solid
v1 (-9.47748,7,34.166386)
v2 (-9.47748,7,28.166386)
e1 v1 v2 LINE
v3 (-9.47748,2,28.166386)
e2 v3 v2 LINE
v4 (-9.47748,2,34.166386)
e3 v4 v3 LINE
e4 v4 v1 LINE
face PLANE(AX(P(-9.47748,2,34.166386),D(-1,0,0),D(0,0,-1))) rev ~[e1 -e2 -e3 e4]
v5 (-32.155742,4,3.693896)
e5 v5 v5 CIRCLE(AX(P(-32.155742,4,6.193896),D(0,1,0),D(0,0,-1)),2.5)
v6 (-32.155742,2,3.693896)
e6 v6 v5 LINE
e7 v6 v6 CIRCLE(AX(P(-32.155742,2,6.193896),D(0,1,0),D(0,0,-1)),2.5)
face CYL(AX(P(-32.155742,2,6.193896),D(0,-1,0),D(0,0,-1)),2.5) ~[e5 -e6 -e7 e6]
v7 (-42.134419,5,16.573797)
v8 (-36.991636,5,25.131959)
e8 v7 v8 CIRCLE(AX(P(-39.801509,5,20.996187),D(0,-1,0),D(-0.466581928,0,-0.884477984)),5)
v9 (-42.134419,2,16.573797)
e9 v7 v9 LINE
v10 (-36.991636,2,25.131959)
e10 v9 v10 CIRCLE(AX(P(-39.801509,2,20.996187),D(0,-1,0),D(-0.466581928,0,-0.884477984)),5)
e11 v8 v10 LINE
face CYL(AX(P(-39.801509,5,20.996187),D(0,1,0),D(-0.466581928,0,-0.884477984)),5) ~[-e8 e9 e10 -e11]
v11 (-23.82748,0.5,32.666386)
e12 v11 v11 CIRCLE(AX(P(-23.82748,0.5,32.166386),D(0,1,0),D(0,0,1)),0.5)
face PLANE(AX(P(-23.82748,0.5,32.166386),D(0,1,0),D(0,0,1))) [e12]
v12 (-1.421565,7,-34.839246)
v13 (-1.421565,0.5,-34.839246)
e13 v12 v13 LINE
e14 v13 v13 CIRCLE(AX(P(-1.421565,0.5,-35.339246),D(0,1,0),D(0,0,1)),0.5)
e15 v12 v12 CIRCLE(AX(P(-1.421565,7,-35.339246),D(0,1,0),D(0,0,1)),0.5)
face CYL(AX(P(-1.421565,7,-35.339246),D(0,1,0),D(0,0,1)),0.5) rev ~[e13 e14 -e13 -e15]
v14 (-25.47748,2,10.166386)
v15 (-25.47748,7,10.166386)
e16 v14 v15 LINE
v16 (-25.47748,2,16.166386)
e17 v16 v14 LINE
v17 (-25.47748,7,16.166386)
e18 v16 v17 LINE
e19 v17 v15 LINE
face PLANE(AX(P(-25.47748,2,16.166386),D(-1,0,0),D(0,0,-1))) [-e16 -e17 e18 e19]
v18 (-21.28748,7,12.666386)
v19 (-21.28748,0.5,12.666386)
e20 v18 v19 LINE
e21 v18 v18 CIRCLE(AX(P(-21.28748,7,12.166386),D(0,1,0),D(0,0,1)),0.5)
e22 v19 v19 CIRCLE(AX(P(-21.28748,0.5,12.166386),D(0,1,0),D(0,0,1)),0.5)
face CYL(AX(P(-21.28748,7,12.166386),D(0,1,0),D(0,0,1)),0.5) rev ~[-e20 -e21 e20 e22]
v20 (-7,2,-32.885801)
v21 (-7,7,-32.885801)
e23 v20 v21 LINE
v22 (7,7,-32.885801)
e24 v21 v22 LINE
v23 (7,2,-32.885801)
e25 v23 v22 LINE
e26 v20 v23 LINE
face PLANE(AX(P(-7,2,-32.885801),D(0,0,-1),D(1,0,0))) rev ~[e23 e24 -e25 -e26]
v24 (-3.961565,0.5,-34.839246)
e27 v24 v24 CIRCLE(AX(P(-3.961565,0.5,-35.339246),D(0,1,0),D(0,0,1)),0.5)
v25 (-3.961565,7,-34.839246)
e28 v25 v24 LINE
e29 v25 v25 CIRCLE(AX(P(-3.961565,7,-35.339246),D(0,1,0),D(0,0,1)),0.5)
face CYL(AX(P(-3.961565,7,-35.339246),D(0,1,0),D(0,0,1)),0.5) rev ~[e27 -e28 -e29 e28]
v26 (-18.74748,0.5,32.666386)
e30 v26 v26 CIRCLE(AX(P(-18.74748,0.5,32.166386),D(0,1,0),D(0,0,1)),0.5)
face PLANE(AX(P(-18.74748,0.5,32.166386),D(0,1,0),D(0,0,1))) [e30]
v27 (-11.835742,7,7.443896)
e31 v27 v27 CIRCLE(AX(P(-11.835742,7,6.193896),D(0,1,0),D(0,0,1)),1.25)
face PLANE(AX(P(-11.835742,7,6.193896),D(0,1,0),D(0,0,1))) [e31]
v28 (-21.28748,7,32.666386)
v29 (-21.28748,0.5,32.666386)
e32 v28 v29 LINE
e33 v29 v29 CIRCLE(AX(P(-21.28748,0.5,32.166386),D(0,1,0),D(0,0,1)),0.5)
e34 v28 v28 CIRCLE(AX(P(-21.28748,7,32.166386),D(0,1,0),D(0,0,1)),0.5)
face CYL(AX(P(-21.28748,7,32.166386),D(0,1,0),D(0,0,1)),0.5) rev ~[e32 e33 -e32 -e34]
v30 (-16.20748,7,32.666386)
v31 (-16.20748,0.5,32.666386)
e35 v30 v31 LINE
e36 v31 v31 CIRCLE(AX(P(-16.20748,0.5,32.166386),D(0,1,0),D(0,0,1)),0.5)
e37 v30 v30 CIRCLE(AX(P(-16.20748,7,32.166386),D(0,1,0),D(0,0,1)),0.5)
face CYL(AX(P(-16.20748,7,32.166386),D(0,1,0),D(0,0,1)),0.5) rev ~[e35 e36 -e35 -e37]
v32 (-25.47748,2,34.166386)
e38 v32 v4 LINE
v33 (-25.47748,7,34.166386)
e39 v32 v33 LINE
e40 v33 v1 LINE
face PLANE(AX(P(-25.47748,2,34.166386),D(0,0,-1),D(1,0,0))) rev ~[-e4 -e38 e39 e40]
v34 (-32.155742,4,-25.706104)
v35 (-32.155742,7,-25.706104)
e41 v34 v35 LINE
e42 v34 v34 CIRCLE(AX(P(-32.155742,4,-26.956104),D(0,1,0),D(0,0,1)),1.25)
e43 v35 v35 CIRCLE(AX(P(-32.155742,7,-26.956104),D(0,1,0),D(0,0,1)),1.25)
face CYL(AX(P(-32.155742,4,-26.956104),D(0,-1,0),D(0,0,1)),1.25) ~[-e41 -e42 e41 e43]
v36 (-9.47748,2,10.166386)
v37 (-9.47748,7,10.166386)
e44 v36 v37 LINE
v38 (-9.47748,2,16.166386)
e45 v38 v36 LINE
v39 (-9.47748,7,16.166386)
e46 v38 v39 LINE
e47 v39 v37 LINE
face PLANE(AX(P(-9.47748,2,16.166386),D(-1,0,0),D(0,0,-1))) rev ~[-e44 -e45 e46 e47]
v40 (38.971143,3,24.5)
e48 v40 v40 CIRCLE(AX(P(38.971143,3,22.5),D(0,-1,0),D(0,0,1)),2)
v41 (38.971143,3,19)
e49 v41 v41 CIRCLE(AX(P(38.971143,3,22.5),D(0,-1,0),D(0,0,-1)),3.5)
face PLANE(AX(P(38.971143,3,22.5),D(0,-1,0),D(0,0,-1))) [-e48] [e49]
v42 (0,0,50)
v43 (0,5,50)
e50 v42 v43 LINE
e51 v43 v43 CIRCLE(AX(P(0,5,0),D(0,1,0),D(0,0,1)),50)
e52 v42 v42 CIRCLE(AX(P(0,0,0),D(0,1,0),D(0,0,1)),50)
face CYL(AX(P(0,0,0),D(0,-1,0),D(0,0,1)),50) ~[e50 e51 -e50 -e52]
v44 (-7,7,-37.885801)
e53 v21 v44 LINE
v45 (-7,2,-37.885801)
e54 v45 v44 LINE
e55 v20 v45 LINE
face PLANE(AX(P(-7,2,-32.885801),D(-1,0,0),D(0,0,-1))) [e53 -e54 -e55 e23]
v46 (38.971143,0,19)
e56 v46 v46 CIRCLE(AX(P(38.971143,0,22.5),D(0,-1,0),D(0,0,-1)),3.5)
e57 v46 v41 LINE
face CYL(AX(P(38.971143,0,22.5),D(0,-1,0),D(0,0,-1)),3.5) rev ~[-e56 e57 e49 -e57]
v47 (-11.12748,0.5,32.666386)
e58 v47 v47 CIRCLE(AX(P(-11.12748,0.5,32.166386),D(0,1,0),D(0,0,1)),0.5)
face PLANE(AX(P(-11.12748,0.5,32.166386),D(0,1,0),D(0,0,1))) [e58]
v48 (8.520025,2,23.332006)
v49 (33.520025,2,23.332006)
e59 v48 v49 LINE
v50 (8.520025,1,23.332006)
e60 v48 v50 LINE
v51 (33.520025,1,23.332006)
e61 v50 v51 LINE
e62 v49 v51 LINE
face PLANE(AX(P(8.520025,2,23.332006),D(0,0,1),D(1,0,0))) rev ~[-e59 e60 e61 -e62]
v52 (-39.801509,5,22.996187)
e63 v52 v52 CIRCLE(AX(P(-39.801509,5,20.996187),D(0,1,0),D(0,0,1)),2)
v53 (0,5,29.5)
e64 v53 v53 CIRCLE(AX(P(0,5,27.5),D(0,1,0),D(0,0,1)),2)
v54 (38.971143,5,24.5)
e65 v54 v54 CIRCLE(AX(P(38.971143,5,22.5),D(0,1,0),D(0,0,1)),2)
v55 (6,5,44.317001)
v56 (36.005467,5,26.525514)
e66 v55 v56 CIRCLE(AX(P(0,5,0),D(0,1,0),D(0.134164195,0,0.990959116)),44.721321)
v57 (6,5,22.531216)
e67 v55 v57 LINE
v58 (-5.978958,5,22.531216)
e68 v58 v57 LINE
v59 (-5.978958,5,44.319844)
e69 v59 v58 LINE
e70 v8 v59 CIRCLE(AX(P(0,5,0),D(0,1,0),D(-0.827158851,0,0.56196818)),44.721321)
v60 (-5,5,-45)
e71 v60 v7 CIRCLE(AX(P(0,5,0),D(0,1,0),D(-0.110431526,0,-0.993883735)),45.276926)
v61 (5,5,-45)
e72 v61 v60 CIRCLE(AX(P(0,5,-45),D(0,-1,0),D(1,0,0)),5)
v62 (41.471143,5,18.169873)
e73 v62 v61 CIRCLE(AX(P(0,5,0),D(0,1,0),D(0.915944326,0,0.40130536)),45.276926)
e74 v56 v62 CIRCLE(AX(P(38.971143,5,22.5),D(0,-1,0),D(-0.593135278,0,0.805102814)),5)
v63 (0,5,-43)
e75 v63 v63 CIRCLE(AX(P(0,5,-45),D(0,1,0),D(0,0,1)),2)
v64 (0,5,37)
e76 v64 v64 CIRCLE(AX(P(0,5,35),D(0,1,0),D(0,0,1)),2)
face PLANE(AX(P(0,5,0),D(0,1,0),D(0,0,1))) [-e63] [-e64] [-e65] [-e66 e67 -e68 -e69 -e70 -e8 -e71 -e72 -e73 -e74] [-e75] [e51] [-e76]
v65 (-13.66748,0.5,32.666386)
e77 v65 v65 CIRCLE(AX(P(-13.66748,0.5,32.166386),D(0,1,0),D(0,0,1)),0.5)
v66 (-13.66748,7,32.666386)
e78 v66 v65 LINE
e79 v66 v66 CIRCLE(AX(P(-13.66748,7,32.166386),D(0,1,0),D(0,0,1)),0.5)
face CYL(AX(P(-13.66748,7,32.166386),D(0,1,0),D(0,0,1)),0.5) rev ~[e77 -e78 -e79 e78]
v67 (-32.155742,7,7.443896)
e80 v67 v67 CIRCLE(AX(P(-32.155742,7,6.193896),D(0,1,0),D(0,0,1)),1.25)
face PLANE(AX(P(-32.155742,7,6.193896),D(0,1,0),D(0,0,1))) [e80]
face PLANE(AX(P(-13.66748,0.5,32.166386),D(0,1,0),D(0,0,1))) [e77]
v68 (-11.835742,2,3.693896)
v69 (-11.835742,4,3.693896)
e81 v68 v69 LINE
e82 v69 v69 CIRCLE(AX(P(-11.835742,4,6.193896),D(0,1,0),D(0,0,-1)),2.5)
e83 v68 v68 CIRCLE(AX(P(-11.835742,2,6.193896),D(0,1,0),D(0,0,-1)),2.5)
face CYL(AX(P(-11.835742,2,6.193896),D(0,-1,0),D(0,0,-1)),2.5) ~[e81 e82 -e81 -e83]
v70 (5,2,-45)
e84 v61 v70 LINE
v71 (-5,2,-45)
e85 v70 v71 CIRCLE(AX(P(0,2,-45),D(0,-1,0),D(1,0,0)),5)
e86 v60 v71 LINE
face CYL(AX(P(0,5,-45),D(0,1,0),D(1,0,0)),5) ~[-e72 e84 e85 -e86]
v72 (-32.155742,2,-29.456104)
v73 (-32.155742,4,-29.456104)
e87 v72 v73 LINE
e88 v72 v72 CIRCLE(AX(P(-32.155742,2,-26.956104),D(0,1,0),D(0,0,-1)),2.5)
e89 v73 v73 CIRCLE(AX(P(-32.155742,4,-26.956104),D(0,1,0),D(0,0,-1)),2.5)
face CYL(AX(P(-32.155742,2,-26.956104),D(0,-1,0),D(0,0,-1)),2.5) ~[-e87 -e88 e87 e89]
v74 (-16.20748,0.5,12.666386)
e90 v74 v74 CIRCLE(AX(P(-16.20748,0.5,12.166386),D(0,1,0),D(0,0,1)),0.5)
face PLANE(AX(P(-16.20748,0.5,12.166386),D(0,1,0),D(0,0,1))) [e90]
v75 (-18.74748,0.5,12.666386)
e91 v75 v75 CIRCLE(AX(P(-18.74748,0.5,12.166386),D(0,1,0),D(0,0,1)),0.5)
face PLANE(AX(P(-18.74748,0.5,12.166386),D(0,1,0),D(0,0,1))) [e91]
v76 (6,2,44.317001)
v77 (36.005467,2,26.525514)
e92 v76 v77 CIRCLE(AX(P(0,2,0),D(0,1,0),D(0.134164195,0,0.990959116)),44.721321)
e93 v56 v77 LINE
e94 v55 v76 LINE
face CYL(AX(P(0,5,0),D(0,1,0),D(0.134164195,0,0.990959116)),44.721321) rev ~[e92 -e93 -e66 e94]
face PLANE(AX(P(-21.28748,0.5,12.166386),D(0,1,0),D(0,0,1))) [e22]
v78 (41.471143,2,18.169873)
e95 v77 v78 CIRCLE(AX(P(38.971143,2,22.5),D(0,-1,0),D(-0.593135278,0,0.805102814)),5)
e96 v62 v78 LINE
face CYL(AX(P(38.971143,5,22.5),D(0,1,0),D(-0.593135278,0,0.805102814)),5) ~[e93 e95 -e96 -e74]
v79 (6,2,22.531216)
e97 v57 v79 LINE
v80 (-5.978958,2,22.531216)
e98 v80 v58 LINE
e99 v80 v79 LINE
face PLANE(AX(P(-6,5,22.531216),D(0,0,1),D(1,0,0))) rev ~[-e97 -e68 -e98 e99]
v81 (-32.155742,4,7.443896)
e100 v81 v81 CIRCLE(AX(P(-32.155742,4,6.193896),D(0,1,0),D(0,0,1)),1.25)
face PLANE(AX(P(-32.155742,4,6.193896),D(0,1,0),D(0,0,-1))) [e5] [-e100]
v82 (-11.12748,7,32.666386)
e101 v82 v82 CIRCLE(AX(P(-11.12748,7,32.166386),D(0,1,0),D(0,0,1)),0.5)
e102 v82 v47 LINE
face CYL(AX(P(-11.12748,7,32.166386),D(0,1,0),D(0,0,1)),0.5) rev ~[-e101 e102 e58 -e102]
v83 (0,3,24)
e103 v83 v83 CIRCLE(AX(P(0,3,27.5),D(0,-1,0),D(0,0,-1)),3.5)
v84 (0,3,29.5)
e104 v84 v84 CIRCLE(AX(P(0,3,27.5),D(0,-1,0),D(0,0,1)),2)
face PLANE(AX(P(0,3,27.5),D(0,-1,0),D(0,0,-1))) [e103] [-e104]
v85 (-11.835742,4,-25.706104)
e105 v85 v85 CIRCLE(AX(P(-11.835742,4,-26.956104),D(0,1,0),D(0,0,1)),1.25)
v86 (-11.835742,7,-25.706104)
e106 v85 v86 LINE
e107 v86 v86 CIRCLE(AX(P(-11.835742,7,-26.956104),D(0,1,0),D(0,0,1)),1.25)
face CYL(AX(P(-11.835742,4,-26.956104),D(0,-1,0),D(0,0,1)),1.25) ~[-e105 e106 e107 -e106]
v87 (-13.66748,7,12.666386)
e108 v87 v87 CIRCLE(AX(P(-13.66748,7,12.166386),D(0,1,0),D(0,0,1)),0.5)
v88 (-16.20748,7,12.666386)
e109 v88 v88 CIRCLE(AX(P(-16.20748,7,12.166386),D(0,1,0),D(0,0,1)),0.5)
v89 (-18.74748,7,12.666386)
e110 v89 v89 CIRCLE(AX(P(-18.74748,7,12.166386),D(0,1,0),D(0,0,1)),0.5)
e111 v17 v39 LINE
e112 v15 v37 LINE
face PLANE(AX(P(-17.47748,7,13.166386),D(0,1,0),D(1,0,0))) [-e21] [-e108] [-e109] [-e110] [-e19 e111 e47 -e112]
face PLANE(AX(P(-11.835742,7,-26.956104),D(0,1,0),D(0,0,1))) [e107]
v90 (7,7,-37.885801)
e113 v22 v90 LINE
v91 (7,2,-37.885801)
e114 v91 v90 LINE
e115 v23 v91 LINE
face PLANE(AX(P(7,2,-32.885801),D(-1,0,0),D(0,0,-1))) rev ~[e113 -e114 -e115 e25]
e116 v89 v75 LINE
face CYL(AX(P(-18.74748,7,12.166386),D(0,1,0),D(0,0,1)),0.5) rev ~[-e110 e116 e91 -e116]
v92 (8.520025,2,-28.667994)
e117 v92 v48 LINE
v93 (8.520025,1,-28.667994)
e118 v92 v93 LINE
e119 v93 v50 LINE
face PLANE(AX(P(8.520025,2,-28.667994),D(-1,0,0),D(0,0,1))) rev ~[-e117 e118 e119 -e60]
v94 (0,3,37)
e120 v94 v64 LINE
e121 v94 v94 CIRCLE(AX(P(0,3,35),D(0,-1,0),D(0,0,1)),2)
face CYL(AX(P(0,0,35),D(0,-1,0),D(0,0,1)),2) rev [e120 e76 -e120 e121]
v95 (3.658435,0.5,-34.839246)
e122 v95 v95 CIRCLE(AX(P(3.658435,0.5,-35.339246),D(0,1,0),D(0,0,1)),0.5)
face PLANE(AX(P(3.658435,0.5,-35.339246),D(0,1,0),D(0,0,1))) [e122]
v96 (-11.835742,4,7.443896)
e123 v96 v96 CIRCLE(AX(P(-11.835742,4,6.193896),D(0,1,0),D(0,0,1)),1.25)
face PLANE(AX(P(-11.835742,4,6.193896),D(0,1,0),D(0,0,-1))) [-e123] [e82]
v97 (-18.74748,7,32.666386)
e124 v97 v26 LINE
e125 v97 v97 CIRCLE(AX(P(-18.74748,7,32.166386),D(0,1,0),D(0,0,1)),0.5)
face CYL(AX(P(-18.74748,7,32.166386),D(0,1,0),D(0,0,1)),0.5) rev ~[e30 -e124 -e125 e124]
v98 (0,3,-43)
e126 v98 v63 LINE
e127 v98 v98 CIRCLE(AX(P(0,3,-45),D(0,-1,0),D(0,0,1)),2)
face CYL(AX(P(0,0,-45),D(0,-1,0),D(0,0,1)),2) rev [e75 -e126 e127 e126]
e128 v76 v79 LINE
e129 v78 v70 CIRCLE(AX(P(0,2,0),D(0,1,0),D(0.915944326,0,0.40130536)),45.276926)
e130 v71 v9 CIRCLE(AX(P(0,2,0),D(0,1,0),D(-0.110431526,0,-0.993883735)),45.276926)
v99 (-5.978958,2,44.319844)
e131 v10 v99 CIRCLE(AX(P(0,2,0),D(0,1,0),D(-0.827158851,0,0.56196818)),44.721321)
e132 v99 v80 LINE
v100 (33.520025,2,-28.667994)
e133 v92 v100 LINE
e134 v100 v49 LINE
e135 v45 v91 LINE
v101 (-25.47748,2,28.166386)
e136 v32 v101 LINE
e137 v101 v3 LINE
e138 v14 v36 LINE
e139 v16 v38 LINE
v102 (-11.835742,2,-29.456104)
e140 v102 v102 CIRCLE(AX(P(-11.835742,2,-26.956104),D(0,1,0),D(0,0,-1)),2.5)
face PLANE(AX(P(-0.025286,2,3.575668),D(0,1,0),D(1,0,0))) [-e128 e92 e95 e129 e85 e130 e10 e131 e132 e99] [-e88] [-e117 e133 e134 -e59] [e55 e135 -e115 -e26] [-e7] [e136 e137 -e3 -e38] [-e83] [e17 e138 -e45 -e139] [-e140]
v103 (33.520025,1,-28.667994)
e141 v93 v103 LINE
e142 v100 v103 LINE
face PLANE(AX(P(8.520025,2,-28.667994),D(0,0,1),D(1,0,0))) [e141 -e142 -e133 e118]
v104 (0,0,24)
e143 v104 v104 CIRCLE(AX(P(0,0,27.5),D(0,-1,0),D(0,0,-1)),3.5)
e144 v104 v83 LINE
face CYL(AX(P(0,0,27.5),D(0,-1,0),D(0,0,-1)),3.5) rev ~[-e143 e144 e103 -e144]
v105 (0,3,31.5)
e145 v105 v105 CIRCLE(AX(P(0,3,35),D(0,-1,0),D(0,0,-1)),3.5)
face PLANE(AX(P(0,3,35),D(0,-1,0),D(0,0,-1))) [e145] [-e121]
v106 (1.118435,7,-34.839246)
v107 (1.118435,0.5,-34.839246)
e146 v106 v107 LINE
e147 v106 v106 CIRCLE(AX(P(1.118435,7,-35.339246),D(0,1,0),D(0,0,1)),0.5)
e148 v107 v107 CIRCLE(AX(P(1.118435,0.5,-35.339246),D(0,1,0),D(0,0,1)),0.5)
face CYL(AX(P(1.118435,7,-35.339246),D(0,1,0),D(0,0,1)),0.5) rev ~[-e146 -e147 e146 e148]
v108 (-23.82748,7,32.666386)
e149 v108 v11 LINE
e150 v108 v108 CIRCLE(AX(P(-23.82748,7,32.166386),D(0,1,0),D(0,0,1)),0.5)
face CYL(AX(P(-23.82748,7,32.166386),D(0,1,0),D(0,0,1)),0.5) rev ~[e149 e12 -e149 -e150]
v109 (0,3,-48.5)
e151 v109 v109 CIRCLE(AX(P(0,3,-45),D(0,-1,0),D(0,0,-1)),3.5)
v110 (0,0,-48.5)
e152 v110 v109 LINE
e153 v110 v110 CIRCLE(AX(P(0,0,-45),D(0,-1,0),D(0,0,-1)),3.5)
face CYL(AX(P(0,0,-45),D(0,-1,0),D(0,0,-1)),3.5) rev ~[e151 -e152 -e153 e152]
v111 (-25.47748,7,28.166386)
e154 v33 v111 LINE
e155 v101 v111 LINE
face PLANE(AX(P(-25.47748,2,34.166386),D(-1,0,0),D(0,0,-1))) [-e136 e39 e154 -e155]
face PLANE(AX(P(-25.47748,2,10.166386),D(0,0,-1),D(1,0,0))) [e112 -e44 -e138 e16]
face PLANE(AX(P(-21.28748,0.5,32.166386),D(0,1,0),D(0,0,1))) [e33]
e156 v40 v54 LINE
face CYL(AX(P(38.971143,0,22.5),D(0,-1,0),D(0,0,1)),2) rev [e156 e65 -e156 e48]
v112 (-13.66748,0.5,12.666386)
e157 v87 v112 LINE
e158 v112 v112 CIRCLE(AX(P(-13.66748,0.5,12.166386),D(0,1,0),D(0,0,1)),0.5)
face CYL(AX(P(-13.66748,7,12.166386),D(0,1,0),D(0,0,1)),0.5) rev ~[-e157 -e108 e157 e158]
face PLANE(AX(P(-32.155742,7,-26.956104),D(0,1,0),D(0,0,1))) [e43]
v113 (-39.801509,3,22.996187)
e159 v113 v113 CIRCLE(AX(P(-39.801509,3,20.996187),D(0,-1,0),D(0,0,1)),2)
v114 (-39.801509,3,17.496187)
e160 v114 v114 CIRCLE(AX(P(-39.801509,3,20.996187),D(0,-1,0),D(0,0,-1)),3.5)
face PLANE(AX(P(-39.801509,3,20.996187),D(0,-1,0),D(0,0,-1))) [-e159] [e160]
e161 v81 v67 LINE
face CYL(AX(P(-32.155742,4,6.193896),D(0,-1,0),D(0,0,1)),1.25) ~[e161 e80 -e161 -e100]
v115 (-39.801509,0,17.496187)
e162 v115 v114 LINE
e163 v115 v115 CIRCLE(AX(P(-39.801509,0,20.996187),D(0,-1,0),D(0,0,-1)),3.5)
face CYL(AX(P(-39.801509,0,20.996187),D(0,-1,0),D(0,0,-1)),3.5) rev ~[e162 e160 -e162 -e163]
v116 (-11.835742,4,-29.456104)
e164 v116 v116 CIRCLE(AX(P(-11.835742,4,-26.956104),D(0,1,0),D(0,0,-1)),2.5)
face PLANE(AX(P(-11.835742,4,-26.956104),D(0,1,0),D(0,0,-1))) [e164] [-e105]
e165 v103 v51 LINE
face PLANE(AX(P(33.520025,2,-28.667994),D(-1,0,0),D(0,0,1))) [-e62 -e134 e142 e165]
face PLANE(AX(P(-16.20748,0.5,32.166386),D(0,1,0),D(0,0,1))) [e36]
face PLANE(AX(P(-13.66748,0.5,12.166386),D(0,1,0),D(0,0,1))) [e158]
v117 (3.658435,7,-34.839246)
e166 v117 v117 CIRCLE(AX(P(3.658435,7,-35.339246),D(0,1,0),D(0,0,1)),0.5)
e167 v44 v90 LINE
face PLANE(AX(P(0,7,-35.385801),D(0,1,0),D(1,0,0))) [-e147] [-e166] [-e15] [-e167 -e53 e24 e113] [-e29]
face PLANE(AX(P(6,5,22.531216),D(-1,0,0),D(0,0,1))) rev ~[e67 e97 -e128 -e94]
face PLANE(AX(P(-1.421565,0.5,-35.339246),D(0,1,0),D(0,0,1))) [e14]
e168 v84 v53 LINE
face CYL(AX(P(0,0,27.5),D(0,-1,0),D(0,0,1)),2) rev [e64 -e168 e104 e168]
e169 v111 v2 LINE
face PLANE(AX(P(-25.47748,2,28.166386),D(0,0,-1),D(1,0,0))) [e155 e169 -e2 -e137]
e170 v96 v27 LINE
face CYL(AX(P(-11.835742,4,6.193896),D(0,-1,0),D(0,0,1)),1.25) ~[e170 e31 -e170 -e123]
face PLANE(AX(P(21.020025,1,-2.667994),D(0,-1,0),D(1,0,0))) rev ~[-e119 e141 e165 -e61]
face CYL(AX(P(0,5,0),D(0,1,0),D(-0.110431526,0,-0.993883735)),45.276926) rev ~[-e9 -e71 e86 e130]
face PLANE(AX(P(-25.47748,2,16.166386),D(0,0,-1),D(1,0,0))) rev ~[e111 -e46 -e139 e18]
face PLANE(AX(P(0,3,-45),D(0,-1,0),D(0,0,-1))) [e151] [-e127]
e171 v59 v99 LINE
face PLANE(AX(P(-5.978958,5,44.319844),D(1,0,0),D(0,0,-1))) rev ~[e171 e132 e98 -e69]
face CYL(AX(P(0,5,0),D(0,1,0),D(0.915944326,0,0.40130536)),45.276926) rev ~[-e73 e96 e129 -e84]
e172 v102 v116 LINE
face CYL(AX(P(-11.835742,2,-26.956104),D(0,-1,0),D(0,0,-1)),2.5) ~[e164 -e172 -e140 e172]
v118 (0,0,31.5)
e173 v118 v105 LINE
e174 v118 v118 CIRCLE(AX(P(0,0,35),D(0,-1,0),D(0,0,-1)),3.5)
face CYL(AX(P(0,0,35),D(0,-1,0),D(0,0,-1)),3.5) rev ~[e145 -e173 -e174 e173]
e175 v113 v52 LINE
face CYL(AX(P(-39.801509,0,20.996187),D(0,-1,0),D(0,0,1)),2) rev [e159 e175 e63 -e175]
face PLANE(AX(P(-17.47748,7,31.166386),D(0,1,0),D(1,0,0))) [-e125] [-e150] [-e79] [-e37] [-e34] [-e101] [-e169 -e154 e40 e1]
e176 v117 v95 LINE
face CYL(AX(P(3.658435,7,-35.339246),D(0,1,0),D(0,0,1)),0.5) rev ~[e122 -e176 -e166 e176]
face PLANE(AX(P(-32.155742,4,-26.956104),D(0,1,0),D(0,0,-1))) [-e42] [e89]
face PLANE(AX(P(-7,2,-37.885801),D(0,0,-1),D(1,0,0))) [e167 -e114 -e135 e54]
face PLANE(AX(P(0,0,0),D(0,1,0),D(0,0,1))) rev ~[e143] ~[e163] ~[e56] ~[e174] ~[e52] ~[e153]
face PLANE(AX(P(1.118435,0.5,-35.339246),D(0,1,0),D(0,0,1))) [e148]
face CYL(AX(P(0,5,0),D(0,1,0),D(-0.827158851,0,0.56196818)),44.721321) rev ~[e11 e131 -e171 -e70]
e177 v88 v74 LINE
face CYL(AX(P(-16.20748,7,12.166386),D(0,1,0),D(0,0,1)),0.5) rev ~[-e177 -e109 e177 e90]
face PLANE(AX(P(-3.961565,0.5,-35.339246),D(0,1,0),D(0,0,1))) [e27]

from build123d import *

# Parameters (mm, degrees)
SKIZZE2_R                        = 50
SKIZZE2_R_2                      = 2
AUFSATZ_LINEAR_AUSTRAGEN1_DEPTH  = 5
SCHNITT_LINEAR_AUSTRAGEN2_DEPTH  = 3
SKIZZE10_R                       = 3.5
SCHNITT_LINEAR_AUSTRAGEN3_DEPTH  = 3
SCHNITT_LINEAR_AUSTRAGEN7_DEPTH  = 3
SKIZZE27_W                       = 25
SKIZZE27_H                       = 52
SCHNITT_LINEAR_AUSTRAGEN10_DEPTH = 1
SKIZZE12_R                       = 2.5
AUFSATZ_LINEAR_AUSTRAGEN5_DEPTH  = 2
SKIZZE30_R                       = 1.25
AUFSATZ_LINEAR_AUSTRAGEN6_DEPTH  = 3
SKIZZE31_W                       = 16
SKIZZE31_H                       = 6
AUFSATZ_LINEAR_AUSTRAGEN8_DEPTH  = 5
SKIZZE32_R                       = 0.5
SCHNITT_LINEAR_AUSTRAGEN11_DEPTH = 6.5
SKIZZE35_W                       = 14
SKIZZE35_H                       = 5
AUFSATZ_LINEAR_AUSTRAGEN9_DEPTH  = 5
SKIZZE36_R                       = 0.5
SCHNITT_LINEAR_AUSTRAGEN12_DEPTH = 6.5


with BuildPart() as part:
    # Skizze2 → Aufsatz-Linear austragen1 (new body)
    with BuildSketch(Plane(origin=(0, 0, 0), x_dir=(1, 0, 0), z_dir=(0, 1, 0))):
        with Locations(Location((0, 0, 0), (0, 0, 270))):
            Circle(SKIZZE2_R)
        with Locations(Location((38.97114317, -22.5, 0), (0, 0, 270))):
            Circle(SKIZZE2_R_2, mode=Mode.SUBTRACT)
        with Locations(Location((-39.80150929, -20.996186754, 0), (0, 0, 270))):
            Circle(SKIZZE2_R_2, mode=Mode.SUBTRACT)
        with Locations(Location((0, 45, 0), (0, 0, 270))):
            Circle(SKIZZE2_R_2, mode=Mode.SUBTRACT)
        with Locations(Location((0, -35, 0), (0, 0, 270))):
            Circle(SKIZZE2_R_2, mode=Mode.SUBTRACT)
        with Locations(Location((0, -27.5, 0), (0, 0, 270))):
            Circle(SKIZZE2_R_2, mode=Mode.SUBTRACT)
    extrude(amount=AUFSATZ_LINEAR_AUSTRAGEN1_DEPTH)

    # Skizze9 → Schnitt-Linear austragen2 (cut)
    with BuildSketch(Plane(origin=(0, 5, 0), x_dir=(1, 0, 0), z_dir=(0, 1, 0))):
        with BuildLine():
            Line((-6, -39.531216002), (-6, -22.531216002))
            Line((-6, -22.531216002), (6, -22.531216002))
            Line((6, -22.531216002), (6, -39.531216002))
            ThreePointArc((6, -39.531216002), (0, 39.983959767), (-6, -39.531216002))
        make_face()
    extrude(amount=-SCHNITT_LINEAR_AUSTRAGEN2_DEPTH, mode=Mode.SUBTRACT)

    # Skizze10 → Schnitt-Linear austragen3 (cut)
    with BuildSketch(Plane.XZ):
        with Locations(Location((0, 27.5, 0), (0, 0, 270))):
            Circle(SKIZZE10_R)
        with Locations(Location((0, 35, 0), (0, 0, 270))):
            Circle(SKIZZE10_R)
        with Locations(Location((38.97114317, 22.5, 0), (0, 0, 270))):
            Circle(SKIZZE10_R)
        with Locations(Location((-39.80150929, 20.996186754, 0), (0, 0, 270))):
            Circle(SKIZZE10_R)
        with Locations(Location((0, -45, 0), (0, 0, 270))):
            Circle(SKIZZE10_R)
    extrude(amount=-SCHNITT_LINEAR_AUSTRAGEN3_DEPTH, mode=Mode.SUBTRACT)

    # Skizze11 → Schnitt-Linear austragen7 (cut)
    with BuildSketch(Plane(origin=(0, 5, 0), x_dir=(1, 0, 0), z_dir=(0, 1, 0))):
        with BuildLine():
            Line((-5.978957813, -44.319844294), (-5.978957813, -22.5))
            Line((-5.978957813, -22.5), (6, -22.531216002))
            Line((6, -22.531216002), (6, -44.317000516))
            ThreePointArc((6, -44.317000516), (22.808968791, -38.467485978), (36.005466779, -26.525514072))
            ThreePointArc((36.005466779, -26.525514072), (34.786839389, -19.762920925), (41.47114317, -18.169872981))
            ThreePointArc((41.47114317, -18.169872981), (39.210967853, 22.638462845), (5, 45))
            ThreePointArc((5, 45), (0, 40), (-5, 45))
            ThreePointArc((-5, 45), (-38.771722635, 23.382761255), (-42.13441893, -16.573796833))
            ThreePointArc((-42.13441893, -16.573796833), (-35.515787713, -18.42080512), (-36.991636347, -25.131959239))
            ThreePointArc((-36.991636347, -25.131959239), (-23.530017506, -38.030708788), (-5.978957813, -44.319844294))
        make_face()
    extrude(amount=-SCHNITT_LINEAR_AUSTRAGEN7_DEPTH, mode=Mode.SUBTRACT)

    # Skizze27 → Schnitt-Linear austragen10 (cut)
    with BuildSketch(Plane.XZ.offset(-2)):
        with Locations((21.020025154, -2.667993815)):
            Rectangle(SKIZZE27_W, SKIZZE27_H)
    extrude(amount=SCHNITT_LINEAR_AUSTRAGEN10_DEPTH, mode=Mode.SUBTRACT)

    # Skizze12 → Aufsatz-Linear austragen5 (add)
    with BuildSketch(Plane(origin=(0, 2, 0), x_dir=(1, 0, 0), z_dir=(0, 1, 0))):
        with Locations(Location((-32.155741969, 26.956104286, 0), (0, 0, 90))):
            Circle(SKIZZE12_R)
        with Locations(Location((-11.835741969, 26.956104286, 0), (0, 0, 90))):
            Circle(SKIZZE12_R)
        with Locations(Location((-32.155741969, -6.193895714, 0), (0, 0, 90))):
            Circle(SKIZZE12_R)
        with Locations(Location((-11.835741969, -6.193895714, 0), (0, 0, 90))):
            Circle(SKIZZE12_R)
    extrude(amount=AUFSATZ_LINEAR_AUSTRAGEN5_DEPTH)

    # Skizze30 → Aufsatz-Linear austragen6 (add)
    with BuildSketch(Plane(origin=(0, 4, 0), x_dir=(1, 0, 0), z_dir=(0, 1, 0))):
        with Locations(Location((-32.155741969, 26.956104286, 0), (0, 0, 270))):
            Circle(SKIZZE30_R)
        with Locations(Location((-11.835741969, 26.956104286, 0), (0, 0, 270))):
            Circle(SKIZZE30_R)
        with Locations(Location((-32.155741969, -6.193895714, 0), (0, 0, 270))):
            Circle(SKIZZE30_R)
        with Locations(Location((-11.835741969, -6.193895714, 0), (0, 0, 270))):
            Circle(SKIZZE30_R)
    extrude(amount=AUFSATZ_LINEAR_AUSTRAGEN6_DEPTH)

    # Skizze31 → Aufsatz-Linear austragen8 (add)
    with BuildSketch(Plane(origin=(0, 2, 0), x_dir=(1, 0, 0), z_dir=(0, 1, 0))):
        with Locations((-17.477480193, -13.166385762)):
            Rectangle(SKIZZE31_W, SKIZZE31_H)
        with Locations((-17.477480193, -31.166385762)):
            Rectangle(SKIZZE31_W, SKIZZE31_H)
    extrude(amount=AUFSATZ_LINEAR_AUSTRAGEN8_DEPTH)

    # Skizze32 → Schnitt-Linear austragen11 (cut)
    with BuildSketch(Plane(origin=(0, 7, 0), x_dir=(1, 0, 0), z_dir=(0, 1, 0))):
        with Locations(Location((-16.207480193, -12.166385762, 0), (0, 0, 270))):
            Circle(SKIZZE32_R)
        with Locations(Location((-13.667480193, -12.166385762, 0), (0, 0, 270))):
            Circle(SKIZZE32_R)
        with Locations(Location((-18.747480193, -12.166385762, 0), (0, 0, 270))):
            Circle(SKIZZE32_R)
        with Locations(Location((-21.287480193, -12.166385762, 0), (0, 0, 270))):
            Circle(SKIZZE32_R)
        with Locations(Location((-16.207480193, -32.166385762, 0), (0, 0, 270))):
            Circle(SKIZZE32_R)
        with Locations(Location((-13.667480193, -32.166385762, 0), (0, 0, 270))):
            Circle(SKIZZE32_R)
        with Locations(Location((-11.127480193, -32.166385762, 0), (0, 0, 270))):
            Circle(SKIZZE32_R)
        with Locations(Location((-18.747480193, -32.166385762, 0), (0, 0, 270))):
            Circle(SKIZZE32_R)
        with Locations(Location((-21.287480193, -32.166385762, 0), (0, 0, 270))):
            Circle(SKIZZE32_R)
        with Locations(Location((-23.827480193, -32.166385762, 0), (0, 0, 270))):
            Circle(SKIZZE32_R)
    extrude(amount=-SCHNITT_LINEAR_AUSTRAGEN11_DEPTH, mode=Mode.SUBTRACT)

    # Skizze35 → Aufsatz-Linear austragen9 (add)
    with BuildSketch(Plane(origin=(0, 2, 0), x_dir=(1, 0, 0), z_dir=(0, 1, 0))):
        with Locations((0, 35.385800952)):
            Rectangle(SKIZZE35_W, SKIZZE35_H)
    extrude(amount=AUFSATZ_LINEAR_AUSTRAGEN9_DEPTH)

    # Skizze36 → Schnitt-Linear austragen12 (cut)
    with BuildSketch(Plane(origin=(0, 7, 0), x_dir=(1, 0, 0), z_dir=(0, 1, 0))):
        with Locations(Location((1.118435078, 35.339246481, 0), (0, 0, 270))):
            Circle(SKIZZE36_R)
        with Locations(Location((3.658435078, 35.339246481, 0), (0, 0, 270))):
            Circle(SKIZZE36_R)
        with Locations(Location((-1.421564922, 35.339246481, 0), (0, 0, 270))):
            Circle(SKIZZE36_R)
        with Locations(Location((-3.961564922, 35.339246481, 0), (0, 0, 270))):
            Circle(SKIZZE36_R)
    extrude(amount=-SCHNITT_LINEAR_AUSTRAGEN12_DEPTH, mode=Mode.SUBTRACT)


solid = part.part
